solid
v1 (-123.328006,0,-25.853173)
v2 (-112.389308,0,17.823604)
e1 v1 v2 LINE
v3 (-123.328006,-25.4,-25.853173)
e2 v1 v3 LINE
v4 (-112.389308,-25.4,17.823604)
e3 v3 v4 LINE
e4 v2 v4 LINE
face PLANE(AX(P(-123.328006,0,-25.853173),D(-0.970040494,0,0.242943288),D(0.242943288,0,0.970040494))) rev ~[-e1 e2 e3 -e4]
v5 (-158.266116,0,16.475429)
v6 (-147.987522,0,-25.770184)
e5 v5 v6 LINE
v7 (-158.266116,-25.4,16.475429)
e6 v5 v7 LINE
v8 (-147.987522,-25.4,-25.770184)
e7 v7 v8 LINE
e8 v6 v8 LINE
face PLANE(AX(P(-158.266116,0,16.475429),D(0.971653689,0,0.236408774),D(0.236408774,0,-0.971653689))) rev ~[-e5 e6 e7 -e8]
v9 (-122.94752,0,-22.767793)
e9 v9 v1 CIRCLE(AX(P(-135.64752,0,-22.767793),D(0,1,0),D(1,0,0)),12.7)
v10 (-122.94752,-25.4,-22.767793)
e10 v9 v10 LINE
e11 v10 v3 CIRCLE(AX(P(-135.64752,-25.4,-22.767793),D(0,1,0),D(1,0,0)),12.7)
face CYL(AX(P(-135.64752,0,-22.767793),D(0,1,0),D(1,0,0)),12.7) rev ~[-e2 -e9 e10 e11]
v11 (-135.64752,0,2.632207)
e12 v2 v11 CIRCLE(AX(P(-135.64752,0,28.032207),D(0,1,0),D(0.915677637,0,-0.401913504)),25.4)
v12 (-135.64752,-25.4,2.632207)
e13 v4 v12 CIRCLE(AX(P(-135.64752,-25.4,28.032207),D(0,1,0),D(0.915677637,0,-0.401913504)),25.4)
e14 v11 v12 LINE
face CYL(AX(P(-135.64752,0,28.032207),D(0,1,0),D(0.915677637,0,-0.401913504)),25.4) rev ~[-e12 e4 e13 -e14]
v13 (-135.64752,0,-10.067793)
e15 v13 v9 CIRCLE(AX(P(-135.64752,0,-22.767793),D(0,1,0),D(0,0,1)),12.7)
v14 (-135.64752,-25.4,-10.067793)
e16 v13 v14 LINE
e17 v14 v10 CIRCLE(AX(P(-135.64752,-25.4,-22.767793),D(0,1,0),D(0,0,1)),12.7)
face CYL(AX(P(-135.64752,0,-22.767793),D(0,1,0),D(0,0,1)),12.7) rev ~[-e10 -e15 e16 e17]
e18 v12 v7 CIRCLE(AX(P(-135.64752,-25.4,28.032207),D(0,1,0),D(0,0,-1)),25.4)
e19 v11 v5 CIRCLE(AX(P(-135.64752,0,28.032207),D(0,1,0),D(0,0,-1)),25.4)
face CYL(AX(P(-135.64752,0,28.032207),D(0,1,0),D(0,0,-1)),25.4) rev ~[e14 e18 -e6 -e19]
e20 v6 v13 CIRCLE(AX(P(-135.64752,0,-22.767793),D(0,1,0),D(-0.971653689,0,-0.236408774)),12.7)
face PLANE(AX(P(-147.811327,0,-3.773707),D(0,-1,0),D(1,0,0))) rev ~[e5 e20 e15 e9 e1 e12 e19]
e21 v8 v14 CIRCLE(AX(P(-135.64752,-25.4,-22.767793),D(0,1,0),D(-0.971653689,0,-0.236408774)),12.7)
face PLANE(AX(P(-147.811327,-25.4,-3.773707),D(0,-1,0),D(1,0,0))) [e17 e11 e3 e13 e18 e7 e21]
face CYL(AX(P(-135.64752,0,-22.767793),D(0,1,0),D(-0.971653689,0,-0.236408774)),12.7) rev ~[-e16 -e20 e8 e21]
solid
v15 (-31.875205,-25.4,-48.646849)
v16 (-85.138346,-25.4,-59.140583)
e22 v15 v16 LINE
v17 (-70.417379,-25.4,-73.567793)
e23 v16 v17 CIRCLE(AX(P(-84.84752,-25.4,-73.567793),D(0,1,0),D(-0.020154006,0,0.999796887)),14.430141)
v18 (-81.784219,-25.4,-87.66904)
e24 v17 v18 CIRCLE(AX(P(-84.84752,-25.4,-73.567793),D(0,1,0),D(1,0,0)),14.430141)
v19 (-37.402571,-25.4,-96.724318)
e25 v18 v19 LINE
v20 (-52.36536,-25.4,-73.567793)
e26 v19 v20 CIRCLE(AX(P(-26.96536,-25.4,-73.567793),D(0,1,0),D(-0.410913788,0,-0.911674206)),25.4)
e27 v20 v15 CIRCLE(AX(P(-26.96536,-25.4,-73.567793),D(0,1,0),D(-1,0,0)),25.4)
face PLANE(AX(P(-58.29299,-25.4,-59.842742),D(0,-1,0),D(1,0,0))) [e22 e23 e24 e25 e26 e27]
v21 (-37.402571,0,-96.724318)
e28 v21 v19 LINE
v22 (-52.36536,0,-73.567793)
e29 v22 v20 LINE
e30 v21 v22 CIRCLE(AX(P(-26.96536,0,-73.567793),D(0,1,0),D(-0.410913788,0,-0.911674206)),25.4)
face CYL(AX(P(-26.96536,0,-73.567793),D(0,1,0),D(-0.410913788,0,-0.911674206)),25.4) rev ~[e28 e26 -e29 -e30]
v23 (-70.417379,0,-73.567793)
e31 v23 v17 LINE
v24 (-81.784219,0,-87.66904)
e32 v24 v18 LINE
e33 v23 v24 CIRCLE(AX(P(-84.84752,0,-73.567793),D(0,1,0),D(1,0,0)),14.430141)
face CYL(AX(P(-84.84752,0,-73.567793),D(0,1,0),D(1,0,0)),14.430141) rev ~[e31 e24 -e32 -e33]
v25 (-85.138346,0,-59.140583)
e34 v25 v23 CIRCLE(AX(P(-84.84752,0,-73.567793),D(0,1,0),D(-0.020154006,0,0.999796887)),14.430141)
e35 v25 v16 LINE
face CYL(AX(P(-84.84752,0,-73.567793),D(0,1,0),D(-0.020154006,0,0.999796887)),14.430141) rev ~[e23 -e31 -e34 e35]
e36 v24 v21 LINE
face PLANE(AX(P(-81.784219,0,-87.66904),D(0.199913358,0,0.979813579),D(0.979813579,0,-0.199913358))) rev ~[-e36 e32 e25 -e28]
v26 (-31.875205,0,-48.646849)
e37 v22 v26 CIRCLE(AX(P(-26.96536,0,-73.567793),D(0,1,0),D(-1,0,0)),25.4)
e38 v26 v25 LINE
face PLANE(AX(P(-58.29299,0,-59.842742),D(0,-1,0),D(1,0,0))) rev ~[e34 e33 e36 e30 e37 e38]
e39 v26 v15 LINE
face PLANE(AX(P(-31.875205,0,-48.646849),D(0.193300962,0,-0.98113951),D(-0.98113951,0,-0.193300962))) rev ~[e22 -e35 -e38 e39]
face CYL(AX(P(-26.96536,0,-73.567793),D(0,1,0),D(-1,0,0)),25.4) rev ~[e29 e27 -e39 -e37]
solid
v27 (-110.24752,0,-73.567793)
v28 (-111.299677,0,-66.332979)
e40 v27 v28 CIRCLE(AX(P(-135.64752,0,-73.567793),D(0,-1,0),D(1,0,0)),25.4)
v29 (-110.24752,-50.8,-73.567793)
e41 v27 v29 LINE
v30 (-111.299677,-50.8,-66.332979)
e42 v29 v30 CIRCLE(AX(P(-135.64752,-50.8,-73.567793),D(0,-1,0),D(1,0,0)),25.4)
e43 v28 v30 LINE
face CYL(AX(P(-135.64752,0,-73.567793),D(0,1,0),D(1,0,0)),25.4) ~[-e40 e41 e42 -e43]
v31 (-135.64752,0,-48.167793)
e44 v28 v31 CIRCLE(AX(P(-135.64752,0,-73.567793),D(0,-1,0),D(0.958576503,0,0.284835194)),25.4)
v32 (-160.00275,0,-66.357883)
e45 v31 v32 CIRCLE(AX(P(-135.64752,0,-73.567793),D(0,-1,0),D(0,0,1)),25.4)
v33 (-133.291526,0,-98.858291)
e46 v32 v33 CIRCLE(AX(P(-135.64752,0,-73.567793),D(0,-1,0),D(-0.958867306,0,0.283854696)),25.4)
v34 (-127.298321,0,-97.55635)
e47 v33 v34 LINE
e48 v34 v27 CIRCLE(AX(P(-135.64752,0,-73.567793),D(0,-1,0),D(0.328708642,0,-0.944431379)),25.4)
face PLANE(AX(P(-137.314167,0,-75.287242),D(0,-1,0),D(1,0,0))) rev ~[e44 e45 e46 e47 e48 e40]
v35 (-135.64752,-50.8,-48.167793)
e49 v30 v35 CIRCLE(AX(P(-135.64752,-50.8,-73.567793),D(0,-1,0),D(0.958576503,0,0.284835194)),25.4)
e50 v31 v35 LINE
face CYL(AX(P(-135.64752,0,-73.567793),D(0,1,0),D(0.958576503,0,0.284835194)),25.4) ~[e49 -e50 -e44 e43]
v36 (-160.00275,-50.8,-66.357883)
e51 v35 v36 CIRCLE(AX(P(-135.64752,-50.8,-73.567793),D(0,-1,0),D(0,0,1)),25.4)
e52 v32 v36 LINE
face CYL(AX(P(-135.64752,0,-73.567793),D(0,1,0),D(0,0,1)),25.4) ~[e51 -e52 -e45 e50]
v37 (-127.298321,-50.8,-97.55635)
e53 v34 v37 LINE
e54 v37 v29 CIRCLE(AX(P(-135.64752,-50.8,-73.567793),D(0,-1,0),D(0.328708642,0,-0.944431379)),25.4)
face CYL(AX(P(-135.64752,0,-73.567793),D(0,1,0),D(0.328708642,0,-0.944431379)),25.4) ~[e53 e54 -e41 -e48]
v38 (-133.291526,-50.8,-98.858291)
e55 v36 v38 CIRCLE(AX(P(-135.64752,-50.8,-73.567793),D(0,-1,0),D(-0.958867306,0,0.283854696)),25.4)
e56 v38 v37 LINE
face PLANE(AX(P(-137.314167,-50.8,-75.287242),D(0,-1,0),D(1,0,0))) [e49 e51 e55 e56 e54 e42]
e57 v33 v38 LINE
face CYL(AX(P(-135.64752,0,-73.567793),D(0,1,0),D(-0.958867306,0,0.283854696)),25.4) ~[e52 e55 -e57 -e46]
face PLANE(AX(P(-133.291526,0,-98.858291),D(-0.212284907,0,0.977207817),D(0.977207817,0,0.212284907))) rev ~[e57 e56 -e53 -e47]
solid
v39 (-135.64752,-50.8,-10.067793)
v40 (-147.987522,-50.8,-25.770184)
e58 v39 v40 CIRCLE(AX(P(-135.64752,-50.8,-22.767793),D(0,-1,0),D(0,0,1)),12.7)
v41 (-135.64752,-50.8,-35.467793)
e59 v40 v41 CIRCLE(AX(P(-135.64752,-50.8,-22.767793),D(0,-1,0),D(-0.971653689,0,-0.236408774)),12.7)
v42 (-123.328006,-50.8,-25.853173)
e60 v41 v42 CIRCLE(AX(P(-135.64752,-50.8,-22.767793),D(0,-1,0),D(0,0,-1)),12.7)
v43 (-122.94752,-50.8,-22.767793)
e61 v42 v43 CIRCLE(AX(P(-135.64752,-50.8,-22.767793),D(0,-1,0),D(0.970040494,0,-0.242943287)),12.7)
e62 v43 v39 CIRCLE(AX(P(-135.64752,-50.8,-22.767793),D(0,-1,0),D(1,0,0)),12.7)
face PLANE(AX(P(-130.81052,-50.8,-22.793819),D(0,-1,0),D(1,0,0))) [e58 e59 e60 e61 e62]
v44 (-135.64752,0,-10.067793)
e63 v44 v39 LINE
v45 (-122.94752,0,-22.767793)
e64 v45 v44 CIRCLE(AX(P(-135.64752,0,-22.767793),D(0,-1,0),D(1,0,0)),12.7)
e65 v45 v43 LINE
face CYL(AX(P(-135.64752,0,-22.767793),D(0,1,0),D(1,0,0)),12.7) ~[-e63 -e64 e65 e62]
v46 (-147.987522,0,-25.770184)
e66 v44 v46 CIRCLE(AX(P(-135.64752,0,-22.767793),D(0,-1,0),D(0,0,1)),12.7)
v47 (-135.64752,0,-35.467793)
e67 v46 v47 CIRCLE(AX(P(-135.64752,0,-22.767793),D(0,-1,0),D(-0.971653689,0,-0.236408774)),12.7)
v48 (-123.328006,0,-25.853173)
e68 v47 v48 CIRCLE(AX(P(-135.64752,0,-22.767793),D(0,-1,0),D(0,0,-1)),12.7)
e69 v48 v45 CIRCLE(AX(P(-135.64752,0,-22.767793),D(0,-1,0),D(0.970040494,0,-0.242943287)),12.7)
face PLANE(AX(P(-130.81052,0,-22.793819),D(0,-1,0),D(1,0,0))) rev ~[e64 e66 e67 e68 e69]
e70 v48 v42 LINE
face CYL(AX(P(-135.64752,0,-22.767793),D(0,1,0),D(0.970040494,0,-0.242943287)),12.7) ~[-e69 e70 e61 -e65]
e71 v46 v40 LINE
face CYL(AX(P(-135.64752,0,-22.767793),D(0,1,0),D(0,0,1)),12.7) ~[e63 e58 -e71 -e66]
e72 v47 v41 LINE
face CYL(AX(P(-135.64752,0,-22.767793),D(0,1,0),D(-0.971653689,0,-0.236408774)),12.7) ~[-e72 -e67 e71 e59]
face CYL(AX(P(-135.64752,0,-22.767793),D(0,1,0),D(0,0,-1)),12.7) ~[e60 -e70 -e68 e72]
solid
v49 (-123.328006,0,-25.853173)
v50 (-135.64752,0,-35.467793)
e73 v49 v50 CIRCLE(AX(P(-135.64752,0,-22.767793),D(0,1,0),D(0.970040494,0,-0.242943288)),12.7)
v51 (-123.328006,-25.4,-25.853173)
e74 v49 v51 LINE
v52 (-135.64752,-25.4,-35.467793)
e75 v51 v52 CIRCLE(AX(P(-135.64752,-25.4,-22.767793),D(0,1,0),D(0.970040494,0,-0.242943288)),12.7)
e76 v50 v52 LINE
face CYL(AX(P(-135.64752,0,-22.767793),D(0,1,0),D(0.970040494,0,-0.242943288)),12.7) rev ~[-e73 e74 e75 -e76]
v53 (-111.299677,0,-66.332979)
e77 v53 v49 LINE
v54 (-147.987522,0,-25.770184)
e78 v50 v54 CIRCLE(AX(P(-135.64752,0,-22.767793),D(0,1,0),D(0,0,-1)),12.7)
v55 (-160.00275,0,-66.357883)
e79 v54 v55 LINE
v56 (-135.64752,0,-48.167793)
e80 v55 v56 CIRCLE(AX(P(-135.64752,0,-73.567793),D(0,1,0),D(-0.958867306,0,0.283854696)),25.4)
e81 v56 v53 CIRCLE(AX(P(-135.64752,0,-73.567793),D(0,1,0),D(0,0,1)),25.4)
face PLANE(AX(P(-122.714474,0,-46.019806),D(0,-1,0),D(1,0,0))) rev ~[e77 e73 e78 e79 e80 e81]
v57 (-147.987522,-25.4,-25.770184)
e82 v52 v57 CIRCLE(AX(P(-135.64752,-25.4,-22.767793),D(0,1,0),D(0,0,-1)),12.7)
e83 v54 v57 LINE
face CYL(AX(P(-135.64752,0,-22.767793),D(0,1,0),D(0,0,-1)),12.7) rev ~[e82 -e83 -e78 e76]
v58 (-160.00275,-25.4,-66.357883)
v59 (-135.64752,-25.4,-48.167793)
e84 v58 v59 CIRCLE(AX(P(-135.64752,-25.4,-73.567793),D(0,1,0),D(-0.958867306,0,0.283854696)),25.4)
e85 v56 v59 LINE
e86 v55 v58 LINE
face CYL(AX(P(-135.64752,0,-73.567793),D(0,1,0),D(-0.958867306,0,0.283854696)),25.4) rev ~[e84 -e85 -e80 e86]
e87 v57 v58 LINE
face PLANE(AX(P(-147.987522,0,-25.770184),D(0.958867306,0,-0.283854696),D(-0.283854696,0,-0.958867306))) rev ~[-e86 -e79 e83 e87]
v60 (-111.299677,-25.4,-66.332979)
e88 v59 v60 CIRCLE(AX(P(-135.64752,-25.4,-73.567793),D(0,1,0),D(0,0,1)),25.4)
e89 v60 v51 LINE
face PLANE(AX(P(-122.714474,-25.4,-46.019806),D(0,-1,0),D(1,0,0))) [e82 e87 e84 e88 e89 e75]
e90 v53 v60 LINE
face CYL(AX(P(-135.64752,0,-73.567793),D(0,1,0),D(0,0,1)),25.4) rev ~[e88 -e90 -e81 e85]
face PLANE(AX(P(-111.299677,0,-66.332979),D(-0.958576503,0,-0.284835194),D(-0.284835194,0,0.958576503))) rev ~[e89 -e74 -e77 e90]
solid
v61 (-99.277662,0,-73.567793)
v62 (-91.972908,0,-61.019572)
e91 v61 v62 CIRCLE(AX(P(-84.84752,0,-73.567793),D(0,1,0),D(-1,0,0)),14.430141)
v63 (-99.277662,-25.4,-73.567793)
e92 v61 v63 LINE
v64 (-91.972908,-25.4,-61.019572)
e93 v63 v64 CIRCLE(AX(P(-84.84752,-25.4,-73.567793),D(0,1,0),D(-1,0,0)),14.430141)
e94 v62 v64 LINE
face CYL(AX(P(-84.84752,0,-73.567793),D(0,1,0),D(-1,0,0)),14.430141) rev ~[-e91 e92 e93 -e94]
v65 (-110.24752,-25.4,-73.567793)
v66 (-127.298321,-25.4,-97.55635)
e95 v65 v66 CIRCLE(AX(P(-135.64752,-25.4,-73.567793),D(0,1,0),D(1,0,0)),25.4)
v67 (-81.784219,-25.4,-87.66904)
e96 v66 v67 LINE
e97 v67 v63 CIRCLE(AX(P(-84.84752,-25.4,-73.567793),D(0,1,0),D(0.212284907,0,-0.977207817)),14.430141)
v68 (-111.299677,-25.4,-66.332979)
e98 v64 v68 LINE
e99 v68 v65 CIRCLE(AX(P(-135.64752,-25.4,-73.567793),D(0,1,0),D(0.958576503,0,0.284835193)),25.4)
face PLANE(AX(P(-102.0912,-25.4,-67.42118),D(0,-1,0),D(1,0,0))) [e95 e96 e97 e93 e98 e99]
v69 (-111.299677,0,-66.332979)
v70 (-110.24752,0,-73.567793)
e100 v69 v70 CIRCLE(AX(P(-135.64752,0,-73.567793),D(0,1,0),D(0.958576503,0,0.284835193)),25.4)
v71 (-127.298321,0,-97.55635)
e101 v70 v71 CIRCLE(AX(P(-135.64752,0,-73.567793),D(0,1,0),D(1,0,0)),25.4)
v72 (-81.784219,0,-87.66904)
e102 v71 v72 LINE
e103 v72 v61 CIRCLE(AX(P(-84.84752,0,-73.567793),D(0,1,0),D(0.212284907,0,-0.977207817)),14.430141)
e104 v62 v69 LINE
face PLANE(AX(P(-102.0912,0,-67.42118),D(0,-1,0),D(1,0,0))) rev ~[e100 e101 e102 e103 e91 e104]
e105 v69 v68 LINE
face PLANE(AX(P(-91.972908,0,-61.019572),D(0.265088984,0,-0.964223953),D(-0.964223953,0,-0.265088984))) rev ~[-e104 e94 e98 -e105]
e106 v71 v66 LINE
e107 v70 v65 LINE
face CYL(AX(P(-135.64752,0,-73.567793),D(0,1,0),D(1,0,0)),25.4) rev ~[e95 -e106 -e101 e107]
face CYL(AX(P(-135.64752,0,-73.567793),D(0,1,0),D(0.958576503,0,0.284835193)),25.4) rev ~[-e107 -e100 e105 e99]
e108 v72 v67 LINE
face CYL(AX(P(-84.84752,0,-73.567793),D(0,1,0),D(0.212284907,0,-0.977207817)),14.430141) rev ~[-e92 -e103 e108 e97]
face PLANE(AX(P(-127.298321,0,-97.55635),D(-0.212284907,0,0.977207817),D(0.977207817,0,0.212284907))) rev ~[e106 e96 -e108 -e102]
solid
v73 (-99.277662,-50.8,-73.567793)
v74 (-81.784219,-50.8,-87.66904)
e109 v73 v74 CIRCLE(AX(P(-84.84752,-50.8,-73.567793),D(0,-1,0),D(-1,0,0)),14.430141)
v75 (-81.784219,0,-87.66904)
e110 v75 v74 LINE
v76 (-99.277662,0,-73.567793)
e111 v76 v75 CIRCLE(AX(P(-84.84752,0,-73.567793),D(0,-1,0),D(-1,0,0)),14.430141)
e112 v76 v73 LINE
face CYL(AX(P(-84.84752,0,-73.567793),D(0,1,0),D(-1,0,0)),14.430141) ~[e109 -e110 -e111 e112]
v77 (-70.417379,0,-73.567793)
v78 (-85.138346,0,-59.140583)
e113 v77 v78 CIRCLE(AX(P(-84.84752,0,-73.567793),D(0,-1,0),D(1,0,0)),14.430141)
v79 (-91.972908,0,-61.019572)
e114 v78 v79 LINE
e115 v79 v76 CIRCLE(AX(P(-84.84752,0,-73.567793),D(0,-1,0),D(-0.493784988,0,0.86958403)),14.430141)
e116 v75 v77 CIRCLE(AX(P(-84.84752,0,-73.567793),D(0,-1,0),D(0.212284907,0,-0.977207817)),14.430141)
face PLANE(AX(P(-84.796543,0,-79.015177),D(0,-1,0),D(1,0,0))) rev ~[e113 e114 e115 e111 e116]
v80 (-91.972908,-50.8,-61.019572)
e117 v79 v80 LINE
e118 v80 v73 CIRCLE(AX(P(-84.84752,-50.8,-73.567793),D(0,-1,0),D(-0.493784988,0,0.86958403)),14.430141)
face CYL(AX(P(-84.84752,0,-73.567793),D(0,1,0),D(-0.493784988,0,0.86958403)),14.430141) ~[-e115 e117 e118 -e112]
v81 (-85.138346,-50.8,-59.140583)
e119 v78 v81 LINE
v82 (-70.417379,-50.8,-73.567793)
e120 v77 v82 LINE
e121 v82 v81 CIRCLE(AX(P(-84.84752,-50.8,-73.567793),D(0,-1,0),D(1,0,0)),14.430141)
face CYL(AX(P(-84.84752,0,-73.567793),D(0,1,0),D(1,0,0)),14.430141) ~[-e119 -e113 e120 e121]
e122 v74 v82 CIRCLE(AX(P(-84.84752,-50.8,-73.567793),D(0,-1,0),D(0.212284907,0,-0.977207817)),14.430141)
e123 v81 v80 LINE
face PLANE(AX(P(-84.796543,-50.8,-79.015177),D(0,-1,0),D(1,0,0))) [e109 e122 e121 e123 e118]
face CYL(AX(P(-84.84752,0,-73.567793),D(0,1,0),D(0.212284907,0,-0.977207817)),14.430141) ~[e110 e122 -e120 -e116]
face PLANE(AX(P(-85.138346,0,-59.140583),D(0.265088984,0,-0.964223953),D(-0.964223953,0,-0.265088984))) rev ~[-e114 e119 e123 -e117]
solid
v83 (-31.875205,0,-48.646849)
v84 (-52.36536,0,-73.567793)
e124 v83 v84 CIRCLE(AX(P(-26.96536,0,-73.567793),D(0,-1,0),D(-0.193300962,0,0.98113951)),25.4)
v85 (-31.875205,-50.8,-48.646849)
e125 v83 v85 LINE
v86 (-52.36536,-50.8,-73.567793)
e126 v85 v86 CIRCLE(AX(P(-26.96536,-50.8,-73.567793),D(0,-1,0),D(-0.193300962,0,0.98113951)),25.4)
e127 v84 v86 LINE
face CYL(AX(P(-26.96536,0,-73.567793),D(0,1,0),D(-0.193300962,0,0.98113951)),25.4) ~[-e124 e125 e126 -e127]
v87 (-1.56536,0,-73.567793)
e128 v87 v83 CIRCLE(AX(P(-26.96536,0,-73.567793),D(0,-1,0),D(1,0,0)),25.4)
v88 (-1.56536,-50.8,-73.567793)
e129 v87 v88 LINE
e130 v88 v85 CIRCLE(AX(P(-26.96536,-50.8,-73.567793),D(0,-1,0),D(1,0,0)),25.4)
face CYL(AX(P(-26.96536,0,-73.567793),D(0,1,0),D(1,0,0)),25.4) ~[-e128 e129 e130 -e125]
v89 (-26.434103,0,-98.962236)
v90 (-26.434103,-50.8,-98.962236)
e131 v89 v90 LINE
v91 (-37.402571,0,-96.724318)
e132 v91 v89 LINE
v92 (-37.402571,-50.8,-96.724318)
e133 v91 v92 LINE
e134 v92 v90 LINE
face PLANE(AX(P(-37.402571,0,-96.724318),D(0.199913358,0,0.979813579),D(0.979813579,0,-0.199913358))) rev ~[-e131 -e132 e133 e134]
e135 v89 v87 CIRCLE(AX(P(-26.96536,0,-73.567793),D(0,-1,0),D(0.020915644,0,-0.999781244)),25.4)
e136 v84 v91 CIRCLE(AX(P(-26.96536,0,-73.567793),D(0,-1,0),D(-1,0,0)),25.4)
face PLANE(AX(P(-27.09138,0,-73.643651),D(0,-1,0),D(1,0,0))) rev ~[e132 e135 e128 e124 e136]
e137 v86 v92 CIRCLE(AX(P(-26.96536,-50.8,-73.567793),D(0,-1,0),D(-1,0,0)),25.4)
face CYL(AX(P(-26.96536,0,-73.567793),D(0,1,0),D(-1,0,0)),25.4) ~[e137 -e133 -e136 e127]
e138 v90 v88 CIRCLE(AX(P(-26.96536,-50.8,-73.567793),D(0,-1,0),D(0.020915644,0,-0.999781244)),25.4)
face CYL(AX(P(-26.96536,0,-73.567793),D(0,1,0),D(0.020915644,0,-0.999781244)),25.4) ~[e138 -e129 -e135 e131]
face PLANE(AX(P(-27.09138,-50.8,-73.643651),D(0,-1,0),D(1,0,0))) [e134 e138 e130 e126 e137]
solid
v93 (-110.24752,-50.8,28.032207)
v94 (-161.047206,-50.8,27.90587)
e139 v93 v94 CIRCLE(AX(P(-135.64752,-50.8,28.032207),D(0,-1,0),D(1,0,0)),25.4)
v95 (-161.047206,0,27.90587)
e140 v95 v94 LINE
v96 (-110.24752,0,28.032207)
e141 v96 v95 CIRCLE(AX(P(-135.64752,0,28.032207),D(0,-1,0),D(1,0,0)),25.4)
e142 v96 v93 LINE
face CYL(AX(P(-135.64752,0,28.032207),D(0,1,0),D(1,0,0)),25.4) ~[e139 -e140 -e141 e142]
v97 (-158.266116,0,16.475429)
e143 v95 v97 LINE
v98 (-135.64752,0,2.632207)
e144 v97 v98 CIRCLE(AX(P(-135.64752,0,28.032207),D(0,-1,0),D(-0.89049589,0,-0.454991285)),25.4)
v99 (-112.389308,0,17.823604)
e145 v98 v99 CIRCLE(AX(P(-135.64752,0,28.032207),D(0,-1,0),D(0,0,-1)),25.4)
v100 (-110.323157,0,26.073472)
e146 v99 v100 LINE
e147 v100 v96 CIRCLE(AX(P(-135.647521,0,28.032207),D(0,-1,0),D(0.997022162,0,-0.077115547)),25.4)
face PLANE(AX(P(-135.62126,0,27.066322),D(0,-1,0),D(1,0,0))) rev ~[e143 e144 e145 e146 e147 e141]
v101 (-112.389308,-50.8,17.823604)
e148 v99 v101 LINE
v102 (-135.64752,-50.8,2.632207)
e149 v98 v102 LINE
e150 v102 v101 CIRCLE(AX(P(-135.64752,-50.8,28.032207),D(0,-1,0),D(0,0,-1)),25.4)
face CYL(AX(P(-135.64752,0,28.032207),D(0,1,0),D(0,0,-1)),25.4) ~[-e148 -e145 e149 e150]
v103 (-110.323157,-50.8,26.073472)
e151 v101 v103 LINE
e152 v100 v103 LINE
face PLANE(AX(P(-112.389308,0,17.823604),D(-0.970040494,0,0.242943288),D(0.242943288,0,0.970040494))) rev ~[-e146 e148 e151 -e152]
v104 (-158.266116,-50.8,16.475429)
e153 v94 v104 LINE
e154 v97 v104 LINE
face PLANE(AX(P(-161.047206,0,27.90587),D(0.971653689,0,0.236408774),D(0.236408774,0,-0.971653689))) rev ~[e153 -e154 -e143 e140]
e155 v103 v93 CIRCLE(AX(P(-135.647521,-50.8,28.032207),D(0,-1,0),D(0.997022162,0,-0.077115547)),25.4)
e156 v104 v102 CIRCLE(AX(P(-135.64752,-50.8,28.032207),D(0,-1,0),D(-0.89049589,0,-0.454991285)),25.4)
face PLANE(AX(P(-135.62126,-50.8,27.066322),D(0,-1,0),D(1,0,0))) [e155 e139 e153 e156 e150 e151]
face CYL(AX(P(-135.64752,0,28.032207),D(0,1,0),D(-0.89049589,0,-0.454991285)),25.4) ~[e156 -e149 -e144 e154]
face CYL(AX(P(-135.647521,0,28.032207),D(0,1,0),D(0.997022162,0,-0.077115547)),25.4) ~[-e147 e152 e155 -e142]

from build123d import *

# Parameters (mm, degrees)
F1_DEPTH = 50.8
F2_DEPTH = 25.4
F3_DEPTH = 25.4


with BuildPart() as f1:
    # F0 (on Front) → F1 (new body)
    with BuildSketch(Plane.XZ):
        with BuildLine():
            ThreePointArc((-135.6475204229, 2.6322072268), (-121.7575693122, 6.7665245868), (-112.3893084383, 17.8236042234))
            Line((-112.3893084383, 17.8236042234), (-110.3231574973, 26.073472326))
            ThreePointArc((-110.3231574973, 26.073472326), (-110.2664367354, 27.0521098619), (-110.2475204229, 28.0322072268))
            ThreePointArc((-110.2475204229, 28.0322072268), (-135.7106894441, 53.4321286769), (-161.0472062241, 27.9058695751))
            Line((-161.0472062241, 27.9058695751), (-158.2661160293, 16.4754285755))
            ThreePointArc((-158.2661160293, 16.4754285755), (-148.9068156956, 6.3676950266), (-135.6475204229, 2.6322072268))
        make_face()
    extrude(amount=F1_DEPTH)


with BuildPart() as f1b:
    # F0 (on Front) → F1, piece 2 (new body)
    with BuildSketch(Plane.XZ):
        with BuildLine():
            Line((-135.6475204229, -22.7677927732), (-135.6475204229, -35.4677927732))
            ThreePointArc((-135.6475204229, -35.4677927732), (-127.8338888359, -32.779643822), (-123.3280061554, -25.8531725248))
            ThreePointArc((-123.3280061554, -25.8531725248), (-123.0430007733, -24.3221686612), (-122.9475204229, -22.7677927732))
            ThreePointArc((-122.9475204229, -22.7677927732), (-126.6672643019, -13.7875366522), (-135.6475204229, -10.0677927732))
            Line((-135.6475204229, -10.0677927732), (-135.6475204229, -22.7677927732))
        make_face()
        with BuildLine():
            ThreePointArc((-147.9875222736, -25.7701842078), (-143.4948011233, -32.7532915394), (-135.6475204229, -35.4677927732))
            Line((-135.6475204229, -35.4677927732), (-135.6475204229, -22.7677927732))
            Line((-135.6475204229, -22.7677927732), (-135.6475204229, -10.0677927732))
            ThreePointArc((-135.6475204229, -10.0677927732), (-145.6330191891, -14.9205120729), (-147.9875222736, -25.7701842078))
        make_face()
    extrude(amount=F1_DEPTH)


with BuildPart() as f1c:
    # F0 (on Front) → F1, piece 3 (new body)
    with BuildSketch(Plane.XZ):
        with BuildLine():
            Line((-110.2475204229, -73.5677927732), (-135.6475204229, -73.5677927732))
            Line((-135.6475204229, -73.5677927732), (-135.6475204229, -48.1677927732))
            ThreePointArc((-135.6475204229, -48.1677927732), (-150.8466701381, -53.2172191219), (-160.0027500068, -66.3578834869))
            ThreePointArc((-160.0027500068, -66.3578834869), (-155.2704840191, -89.695387129), (-133.2915255646, -98.8582907562))
            Line((-133.2915255646, -98.8582907562), (-127.2983209217, -97.5563497888))
            ThreePointArc((-127.2983209217, -97.5563497888), (-114.9445053366, -88.2832664773), (-110.2475204229, -73.5677927732))
        make_face()
        with BuildLine():
            Line((-135.6475204229, -48.1677927732), (-135.6475204229, -73.5677927732))
            Line((-135.6475204229, -73.5677927732), (-110.2475204229, -73.5677927732))
            ThreePointArc((-110.2475204229, -73.5677927732), (-110.5119359179, -69.9123322565), (-111.299677241, -66.332978858))
            ThreePointArc((-111.299677241, -66.332978858), (-120.4587790901, -53.2094496009), (-135.6475204229, -48.1677927732))
        make_face()
    extrude(amount=F1_DEPTH)


with BuildPart() as f1d:
    # F0 (on Front) → F1, piece 4 (new body)
    with BuildSketch(Plane.XZ):
        with BuildLine():
            Line((-84.8475204229, -73.5677927732), (-99.2776616229, -73.5677927732))
            ThreePointArc((-99.2776616229, -73.5677927732), (-93.9035986696, -84.8024009925), (-81.7842192384, -87.6690395587))
            ThreePointArc((-81.7842192384, -87.6690395587), (-73.6129122036, -82.6238710199), (-70.417379223, -73.5677927732))
            Line((-70.417379223, -73.5677927732), (-77.7653604746, -73.5677927732))
            Line((-77.7653604746, -73.5677927732), (-84.8475204229, -73.5677927732))
        make_face()
        with BuildLine():
            ThreePointArc((-91.972907521, -61.0195724312), (-97.3184730125, -66.308018909), (-99.2776616229, -73.5677927732))
            Line((-99.2776616229, -73.5677927732), (-84.8475204229, -73.5677927732))
            Line((-84.8475204229, -73.5677927732), (-77.7653604746, -73.5677927732))
            Line((-77.7653604746, -73.5677927732), (-70.417379223, -73.5677927732))
            ThreePointArc((-70.417379223, -73.5677927732), (-74.7472153019, -63.2618327737), (-85.1383455726, -59.1405825168))
            Line((-85.1383455726, -59.1405825168), (-91.972907521, -61.0195724312))
        make_face()
    extrude(amount=F1_DEPTH)


with BuildPart() as f1e:
    # F0 (on Front) → F1, piece 5 (new body)
    with BuildSketch(Plane.XZ):
        with BuildLine():
            ThreePointArc((-52.3653604746, -73.5677927732), (-48.299196742, -87.3528364844), (-37.4025707016, -96.7243176135))
            Line((-37.4025707016, -96.7243176135), (-26.4341031252, -98.9622363708))
            ThreePointArc((-26.4341031252, -98.9622363708), (-8.8179923916, -91.3394846359), (-1.5653604746, -73.5677927732))
            ThreePointArc((-1.5653604746, -73.5677927732), (-10.8338702898, -53.9480317039), (-31.8752049169, -48.6468492206))
            ThreePointArc((-31.8752049169, -48.6468492206), (-46.5851215439, -57.4363025884), (-52.3653604746, -73.5677927732))
        make_face()
    extrude(amount=F1_DEPTH)


with BuildPart() as f2:
    # F0 (on Front) → F2 (new body)
    with BuildSketch(Plane.XZ):
        with BuildLine():
            Line((-158.2661160293, 16.4754285755), (-147.9875222736, -25.7701842078))
            ThreePointArc((-147.9875222736, -25.7701842078), (-145.6330191891, -14.9205120729), (-135.6475204229, -10.0677927732))
            Line((-135.6475204229, -10.0677927732), (-135.6475204229, 2.6322072268))
            ThreePointArc((-135.6475204229, 2.6322072268), (-148.9068156956, 6.3676950266), (-158.2661160293, 16.4754285755))
        make_face()
        with BuildLine():
            ThreePointArc((-122.9475204229, -22.7677927732), (-123.0430007733, -24.3221686612), (-123.3280061554, -25.8531725248))
            Line((-123.3280061554, -25.8531725248), (-112.3893084383, 17.8236042234))
            ThreePointArc((-112.3893084383, 17.8236042234), (-121.7575693122, 6.7665245868), (-135.6475204229, 2.6322072268))
            Line((-135.6475204229, 2.6322072268), (-135.6475204229, -10.0677927732))
            ThreePointArc((-135.6475204229, -10.0677927732), (-126.6672643019, -13.7875366522), (-122.9475204229, -22.7677927732))
        make_face()
    extrude(amount=F2_DEPTH)


with BuildPart() as f2b:
    # F0 (on Front) → F2, piece 2 (new body)
    with BuildSketch(Plane.XZ):
        with BuildLine():
            Line((-135.6475204229, -35.4677927732), (-135.6475204229, -48.1677927732))
            ThreePointArc((-135.6475204229, -48.1677927732), (-120.4587790901, -53.2094496009), (-111.299677241, -66.332978858))
            Line((-111.299677241, -66.332978858), (-123.3280061554, -25.8531725248))
            ThreePointArc((-123.3280061554, -25.8531725248), (-127.8338888359, -32.779643822), (-135.6475204229, -35.4677927732))
        make_face()
        with BuildLine():
            ThreePointArc((-160.0027500068, -66.3578834869), (-150.8466701381, -53.2172191219), (-135.6475204229, -48.1677927732))
            Line((-135.6475204229, -48.1677927732), (-135.6475204229, -35.4677927732))
            ThreePointArc((-135.6475204229, -35.4677927732), (-143.4948011233, -32.7532915394), (-147.9875222736, -25.7701842078))
            Line((-147.9875222736, -25.7701842078), (-160.0027500068, -66.3578834869))
        make_face()
    extrude(amount=F2_DEPTH)


with BuildPart() as f2c:
    # F0 (on Front) → F2, piece 3 (new body)
    with BuildSketch(Plane.XZ):
        with BuildLine():
            Line((-31.8752049169, -48.6468492206), (-85.1383455726, -59.1405825168))
            ThreePointArc((-85.1383455726, -59.1405825168), (-74.7472153019, -63.2618327737), (-70.417379223, -73.5677927732))
            Line((-70.417379223, -73.5677927732), (-52.3653604746, -73.5677927732))
            ThreePointArc((-52.3653604746, -73.5677927732), (-46.5851215439, -57.4363025884), (-31.8752049169, -48.6468492206))
        make_face()
        with BuildLine():
            ThreePointArc((-70.417379223, -73.5677927732), (-73.6129122036, -82.6238710199), (-81.7842192384, -87.6690395587))
            Line((-81.7842192384, -87.6690395587), (-37.4025707016, -96.7243176135))
            ThreePointArc((-37.4025707016, -96.7243176135), (-48.299196742, -87.3528364844), (-52.3653604746, -73.5677927732))
            Line((-52.3653604746, -73.5677927732), (-70.417379223, -73.5677927732))
        make_face()
    extrude(amount=F2_DEPTH)


with BuildPart() as f3:
    # F0 (on Front) → F3 (new body)
    with BuildSketch(Plane.XZ):
        with BuildLine():
            ThreePointArc((-111.299677241, -66.332978858), (-110.5119359179, -69.9123322565), (-110.2475204229, -73.5677927732))
            Line((-110.2475204229, -73.5677927732), (-99.2776616229, -73.5677927732))
            ThreePointArc((-99.2776616229, -73.5677927732), (-97.3184730125, -66.308018909), (-91.972907521, -61.0195724312))
            Line((-91.972907521, -61.0195724312), (-111.299677241, -66.332978858))
        make_face()
        with BuildLine():
            Line((-99.2776616229, -73.5677927732), (-110.2475204229, -73.5677927732))
            ThreePointArc((-110.2475204229, -73.5677927732), (-114.9445053366, -88.2832664773), (-127.2983209217, -97.5563497888))
            Line((-127.2983209217, -97.5563497888), (-81.7842192384, -87.6690395587))
            ThreePointArc((-81.7842192384, -87.6690395587), (-93.9035986696, -84.8024009925), (-99.2776616229, -73.5677927732))
        make_face()
    extrude(amount=F3_DEPTH)


solid = Compound([f1.part, f1b.part, f1c.part, f1d.part, f1e.part, f2.part, f2b.part, f2c.part, f3.part])
